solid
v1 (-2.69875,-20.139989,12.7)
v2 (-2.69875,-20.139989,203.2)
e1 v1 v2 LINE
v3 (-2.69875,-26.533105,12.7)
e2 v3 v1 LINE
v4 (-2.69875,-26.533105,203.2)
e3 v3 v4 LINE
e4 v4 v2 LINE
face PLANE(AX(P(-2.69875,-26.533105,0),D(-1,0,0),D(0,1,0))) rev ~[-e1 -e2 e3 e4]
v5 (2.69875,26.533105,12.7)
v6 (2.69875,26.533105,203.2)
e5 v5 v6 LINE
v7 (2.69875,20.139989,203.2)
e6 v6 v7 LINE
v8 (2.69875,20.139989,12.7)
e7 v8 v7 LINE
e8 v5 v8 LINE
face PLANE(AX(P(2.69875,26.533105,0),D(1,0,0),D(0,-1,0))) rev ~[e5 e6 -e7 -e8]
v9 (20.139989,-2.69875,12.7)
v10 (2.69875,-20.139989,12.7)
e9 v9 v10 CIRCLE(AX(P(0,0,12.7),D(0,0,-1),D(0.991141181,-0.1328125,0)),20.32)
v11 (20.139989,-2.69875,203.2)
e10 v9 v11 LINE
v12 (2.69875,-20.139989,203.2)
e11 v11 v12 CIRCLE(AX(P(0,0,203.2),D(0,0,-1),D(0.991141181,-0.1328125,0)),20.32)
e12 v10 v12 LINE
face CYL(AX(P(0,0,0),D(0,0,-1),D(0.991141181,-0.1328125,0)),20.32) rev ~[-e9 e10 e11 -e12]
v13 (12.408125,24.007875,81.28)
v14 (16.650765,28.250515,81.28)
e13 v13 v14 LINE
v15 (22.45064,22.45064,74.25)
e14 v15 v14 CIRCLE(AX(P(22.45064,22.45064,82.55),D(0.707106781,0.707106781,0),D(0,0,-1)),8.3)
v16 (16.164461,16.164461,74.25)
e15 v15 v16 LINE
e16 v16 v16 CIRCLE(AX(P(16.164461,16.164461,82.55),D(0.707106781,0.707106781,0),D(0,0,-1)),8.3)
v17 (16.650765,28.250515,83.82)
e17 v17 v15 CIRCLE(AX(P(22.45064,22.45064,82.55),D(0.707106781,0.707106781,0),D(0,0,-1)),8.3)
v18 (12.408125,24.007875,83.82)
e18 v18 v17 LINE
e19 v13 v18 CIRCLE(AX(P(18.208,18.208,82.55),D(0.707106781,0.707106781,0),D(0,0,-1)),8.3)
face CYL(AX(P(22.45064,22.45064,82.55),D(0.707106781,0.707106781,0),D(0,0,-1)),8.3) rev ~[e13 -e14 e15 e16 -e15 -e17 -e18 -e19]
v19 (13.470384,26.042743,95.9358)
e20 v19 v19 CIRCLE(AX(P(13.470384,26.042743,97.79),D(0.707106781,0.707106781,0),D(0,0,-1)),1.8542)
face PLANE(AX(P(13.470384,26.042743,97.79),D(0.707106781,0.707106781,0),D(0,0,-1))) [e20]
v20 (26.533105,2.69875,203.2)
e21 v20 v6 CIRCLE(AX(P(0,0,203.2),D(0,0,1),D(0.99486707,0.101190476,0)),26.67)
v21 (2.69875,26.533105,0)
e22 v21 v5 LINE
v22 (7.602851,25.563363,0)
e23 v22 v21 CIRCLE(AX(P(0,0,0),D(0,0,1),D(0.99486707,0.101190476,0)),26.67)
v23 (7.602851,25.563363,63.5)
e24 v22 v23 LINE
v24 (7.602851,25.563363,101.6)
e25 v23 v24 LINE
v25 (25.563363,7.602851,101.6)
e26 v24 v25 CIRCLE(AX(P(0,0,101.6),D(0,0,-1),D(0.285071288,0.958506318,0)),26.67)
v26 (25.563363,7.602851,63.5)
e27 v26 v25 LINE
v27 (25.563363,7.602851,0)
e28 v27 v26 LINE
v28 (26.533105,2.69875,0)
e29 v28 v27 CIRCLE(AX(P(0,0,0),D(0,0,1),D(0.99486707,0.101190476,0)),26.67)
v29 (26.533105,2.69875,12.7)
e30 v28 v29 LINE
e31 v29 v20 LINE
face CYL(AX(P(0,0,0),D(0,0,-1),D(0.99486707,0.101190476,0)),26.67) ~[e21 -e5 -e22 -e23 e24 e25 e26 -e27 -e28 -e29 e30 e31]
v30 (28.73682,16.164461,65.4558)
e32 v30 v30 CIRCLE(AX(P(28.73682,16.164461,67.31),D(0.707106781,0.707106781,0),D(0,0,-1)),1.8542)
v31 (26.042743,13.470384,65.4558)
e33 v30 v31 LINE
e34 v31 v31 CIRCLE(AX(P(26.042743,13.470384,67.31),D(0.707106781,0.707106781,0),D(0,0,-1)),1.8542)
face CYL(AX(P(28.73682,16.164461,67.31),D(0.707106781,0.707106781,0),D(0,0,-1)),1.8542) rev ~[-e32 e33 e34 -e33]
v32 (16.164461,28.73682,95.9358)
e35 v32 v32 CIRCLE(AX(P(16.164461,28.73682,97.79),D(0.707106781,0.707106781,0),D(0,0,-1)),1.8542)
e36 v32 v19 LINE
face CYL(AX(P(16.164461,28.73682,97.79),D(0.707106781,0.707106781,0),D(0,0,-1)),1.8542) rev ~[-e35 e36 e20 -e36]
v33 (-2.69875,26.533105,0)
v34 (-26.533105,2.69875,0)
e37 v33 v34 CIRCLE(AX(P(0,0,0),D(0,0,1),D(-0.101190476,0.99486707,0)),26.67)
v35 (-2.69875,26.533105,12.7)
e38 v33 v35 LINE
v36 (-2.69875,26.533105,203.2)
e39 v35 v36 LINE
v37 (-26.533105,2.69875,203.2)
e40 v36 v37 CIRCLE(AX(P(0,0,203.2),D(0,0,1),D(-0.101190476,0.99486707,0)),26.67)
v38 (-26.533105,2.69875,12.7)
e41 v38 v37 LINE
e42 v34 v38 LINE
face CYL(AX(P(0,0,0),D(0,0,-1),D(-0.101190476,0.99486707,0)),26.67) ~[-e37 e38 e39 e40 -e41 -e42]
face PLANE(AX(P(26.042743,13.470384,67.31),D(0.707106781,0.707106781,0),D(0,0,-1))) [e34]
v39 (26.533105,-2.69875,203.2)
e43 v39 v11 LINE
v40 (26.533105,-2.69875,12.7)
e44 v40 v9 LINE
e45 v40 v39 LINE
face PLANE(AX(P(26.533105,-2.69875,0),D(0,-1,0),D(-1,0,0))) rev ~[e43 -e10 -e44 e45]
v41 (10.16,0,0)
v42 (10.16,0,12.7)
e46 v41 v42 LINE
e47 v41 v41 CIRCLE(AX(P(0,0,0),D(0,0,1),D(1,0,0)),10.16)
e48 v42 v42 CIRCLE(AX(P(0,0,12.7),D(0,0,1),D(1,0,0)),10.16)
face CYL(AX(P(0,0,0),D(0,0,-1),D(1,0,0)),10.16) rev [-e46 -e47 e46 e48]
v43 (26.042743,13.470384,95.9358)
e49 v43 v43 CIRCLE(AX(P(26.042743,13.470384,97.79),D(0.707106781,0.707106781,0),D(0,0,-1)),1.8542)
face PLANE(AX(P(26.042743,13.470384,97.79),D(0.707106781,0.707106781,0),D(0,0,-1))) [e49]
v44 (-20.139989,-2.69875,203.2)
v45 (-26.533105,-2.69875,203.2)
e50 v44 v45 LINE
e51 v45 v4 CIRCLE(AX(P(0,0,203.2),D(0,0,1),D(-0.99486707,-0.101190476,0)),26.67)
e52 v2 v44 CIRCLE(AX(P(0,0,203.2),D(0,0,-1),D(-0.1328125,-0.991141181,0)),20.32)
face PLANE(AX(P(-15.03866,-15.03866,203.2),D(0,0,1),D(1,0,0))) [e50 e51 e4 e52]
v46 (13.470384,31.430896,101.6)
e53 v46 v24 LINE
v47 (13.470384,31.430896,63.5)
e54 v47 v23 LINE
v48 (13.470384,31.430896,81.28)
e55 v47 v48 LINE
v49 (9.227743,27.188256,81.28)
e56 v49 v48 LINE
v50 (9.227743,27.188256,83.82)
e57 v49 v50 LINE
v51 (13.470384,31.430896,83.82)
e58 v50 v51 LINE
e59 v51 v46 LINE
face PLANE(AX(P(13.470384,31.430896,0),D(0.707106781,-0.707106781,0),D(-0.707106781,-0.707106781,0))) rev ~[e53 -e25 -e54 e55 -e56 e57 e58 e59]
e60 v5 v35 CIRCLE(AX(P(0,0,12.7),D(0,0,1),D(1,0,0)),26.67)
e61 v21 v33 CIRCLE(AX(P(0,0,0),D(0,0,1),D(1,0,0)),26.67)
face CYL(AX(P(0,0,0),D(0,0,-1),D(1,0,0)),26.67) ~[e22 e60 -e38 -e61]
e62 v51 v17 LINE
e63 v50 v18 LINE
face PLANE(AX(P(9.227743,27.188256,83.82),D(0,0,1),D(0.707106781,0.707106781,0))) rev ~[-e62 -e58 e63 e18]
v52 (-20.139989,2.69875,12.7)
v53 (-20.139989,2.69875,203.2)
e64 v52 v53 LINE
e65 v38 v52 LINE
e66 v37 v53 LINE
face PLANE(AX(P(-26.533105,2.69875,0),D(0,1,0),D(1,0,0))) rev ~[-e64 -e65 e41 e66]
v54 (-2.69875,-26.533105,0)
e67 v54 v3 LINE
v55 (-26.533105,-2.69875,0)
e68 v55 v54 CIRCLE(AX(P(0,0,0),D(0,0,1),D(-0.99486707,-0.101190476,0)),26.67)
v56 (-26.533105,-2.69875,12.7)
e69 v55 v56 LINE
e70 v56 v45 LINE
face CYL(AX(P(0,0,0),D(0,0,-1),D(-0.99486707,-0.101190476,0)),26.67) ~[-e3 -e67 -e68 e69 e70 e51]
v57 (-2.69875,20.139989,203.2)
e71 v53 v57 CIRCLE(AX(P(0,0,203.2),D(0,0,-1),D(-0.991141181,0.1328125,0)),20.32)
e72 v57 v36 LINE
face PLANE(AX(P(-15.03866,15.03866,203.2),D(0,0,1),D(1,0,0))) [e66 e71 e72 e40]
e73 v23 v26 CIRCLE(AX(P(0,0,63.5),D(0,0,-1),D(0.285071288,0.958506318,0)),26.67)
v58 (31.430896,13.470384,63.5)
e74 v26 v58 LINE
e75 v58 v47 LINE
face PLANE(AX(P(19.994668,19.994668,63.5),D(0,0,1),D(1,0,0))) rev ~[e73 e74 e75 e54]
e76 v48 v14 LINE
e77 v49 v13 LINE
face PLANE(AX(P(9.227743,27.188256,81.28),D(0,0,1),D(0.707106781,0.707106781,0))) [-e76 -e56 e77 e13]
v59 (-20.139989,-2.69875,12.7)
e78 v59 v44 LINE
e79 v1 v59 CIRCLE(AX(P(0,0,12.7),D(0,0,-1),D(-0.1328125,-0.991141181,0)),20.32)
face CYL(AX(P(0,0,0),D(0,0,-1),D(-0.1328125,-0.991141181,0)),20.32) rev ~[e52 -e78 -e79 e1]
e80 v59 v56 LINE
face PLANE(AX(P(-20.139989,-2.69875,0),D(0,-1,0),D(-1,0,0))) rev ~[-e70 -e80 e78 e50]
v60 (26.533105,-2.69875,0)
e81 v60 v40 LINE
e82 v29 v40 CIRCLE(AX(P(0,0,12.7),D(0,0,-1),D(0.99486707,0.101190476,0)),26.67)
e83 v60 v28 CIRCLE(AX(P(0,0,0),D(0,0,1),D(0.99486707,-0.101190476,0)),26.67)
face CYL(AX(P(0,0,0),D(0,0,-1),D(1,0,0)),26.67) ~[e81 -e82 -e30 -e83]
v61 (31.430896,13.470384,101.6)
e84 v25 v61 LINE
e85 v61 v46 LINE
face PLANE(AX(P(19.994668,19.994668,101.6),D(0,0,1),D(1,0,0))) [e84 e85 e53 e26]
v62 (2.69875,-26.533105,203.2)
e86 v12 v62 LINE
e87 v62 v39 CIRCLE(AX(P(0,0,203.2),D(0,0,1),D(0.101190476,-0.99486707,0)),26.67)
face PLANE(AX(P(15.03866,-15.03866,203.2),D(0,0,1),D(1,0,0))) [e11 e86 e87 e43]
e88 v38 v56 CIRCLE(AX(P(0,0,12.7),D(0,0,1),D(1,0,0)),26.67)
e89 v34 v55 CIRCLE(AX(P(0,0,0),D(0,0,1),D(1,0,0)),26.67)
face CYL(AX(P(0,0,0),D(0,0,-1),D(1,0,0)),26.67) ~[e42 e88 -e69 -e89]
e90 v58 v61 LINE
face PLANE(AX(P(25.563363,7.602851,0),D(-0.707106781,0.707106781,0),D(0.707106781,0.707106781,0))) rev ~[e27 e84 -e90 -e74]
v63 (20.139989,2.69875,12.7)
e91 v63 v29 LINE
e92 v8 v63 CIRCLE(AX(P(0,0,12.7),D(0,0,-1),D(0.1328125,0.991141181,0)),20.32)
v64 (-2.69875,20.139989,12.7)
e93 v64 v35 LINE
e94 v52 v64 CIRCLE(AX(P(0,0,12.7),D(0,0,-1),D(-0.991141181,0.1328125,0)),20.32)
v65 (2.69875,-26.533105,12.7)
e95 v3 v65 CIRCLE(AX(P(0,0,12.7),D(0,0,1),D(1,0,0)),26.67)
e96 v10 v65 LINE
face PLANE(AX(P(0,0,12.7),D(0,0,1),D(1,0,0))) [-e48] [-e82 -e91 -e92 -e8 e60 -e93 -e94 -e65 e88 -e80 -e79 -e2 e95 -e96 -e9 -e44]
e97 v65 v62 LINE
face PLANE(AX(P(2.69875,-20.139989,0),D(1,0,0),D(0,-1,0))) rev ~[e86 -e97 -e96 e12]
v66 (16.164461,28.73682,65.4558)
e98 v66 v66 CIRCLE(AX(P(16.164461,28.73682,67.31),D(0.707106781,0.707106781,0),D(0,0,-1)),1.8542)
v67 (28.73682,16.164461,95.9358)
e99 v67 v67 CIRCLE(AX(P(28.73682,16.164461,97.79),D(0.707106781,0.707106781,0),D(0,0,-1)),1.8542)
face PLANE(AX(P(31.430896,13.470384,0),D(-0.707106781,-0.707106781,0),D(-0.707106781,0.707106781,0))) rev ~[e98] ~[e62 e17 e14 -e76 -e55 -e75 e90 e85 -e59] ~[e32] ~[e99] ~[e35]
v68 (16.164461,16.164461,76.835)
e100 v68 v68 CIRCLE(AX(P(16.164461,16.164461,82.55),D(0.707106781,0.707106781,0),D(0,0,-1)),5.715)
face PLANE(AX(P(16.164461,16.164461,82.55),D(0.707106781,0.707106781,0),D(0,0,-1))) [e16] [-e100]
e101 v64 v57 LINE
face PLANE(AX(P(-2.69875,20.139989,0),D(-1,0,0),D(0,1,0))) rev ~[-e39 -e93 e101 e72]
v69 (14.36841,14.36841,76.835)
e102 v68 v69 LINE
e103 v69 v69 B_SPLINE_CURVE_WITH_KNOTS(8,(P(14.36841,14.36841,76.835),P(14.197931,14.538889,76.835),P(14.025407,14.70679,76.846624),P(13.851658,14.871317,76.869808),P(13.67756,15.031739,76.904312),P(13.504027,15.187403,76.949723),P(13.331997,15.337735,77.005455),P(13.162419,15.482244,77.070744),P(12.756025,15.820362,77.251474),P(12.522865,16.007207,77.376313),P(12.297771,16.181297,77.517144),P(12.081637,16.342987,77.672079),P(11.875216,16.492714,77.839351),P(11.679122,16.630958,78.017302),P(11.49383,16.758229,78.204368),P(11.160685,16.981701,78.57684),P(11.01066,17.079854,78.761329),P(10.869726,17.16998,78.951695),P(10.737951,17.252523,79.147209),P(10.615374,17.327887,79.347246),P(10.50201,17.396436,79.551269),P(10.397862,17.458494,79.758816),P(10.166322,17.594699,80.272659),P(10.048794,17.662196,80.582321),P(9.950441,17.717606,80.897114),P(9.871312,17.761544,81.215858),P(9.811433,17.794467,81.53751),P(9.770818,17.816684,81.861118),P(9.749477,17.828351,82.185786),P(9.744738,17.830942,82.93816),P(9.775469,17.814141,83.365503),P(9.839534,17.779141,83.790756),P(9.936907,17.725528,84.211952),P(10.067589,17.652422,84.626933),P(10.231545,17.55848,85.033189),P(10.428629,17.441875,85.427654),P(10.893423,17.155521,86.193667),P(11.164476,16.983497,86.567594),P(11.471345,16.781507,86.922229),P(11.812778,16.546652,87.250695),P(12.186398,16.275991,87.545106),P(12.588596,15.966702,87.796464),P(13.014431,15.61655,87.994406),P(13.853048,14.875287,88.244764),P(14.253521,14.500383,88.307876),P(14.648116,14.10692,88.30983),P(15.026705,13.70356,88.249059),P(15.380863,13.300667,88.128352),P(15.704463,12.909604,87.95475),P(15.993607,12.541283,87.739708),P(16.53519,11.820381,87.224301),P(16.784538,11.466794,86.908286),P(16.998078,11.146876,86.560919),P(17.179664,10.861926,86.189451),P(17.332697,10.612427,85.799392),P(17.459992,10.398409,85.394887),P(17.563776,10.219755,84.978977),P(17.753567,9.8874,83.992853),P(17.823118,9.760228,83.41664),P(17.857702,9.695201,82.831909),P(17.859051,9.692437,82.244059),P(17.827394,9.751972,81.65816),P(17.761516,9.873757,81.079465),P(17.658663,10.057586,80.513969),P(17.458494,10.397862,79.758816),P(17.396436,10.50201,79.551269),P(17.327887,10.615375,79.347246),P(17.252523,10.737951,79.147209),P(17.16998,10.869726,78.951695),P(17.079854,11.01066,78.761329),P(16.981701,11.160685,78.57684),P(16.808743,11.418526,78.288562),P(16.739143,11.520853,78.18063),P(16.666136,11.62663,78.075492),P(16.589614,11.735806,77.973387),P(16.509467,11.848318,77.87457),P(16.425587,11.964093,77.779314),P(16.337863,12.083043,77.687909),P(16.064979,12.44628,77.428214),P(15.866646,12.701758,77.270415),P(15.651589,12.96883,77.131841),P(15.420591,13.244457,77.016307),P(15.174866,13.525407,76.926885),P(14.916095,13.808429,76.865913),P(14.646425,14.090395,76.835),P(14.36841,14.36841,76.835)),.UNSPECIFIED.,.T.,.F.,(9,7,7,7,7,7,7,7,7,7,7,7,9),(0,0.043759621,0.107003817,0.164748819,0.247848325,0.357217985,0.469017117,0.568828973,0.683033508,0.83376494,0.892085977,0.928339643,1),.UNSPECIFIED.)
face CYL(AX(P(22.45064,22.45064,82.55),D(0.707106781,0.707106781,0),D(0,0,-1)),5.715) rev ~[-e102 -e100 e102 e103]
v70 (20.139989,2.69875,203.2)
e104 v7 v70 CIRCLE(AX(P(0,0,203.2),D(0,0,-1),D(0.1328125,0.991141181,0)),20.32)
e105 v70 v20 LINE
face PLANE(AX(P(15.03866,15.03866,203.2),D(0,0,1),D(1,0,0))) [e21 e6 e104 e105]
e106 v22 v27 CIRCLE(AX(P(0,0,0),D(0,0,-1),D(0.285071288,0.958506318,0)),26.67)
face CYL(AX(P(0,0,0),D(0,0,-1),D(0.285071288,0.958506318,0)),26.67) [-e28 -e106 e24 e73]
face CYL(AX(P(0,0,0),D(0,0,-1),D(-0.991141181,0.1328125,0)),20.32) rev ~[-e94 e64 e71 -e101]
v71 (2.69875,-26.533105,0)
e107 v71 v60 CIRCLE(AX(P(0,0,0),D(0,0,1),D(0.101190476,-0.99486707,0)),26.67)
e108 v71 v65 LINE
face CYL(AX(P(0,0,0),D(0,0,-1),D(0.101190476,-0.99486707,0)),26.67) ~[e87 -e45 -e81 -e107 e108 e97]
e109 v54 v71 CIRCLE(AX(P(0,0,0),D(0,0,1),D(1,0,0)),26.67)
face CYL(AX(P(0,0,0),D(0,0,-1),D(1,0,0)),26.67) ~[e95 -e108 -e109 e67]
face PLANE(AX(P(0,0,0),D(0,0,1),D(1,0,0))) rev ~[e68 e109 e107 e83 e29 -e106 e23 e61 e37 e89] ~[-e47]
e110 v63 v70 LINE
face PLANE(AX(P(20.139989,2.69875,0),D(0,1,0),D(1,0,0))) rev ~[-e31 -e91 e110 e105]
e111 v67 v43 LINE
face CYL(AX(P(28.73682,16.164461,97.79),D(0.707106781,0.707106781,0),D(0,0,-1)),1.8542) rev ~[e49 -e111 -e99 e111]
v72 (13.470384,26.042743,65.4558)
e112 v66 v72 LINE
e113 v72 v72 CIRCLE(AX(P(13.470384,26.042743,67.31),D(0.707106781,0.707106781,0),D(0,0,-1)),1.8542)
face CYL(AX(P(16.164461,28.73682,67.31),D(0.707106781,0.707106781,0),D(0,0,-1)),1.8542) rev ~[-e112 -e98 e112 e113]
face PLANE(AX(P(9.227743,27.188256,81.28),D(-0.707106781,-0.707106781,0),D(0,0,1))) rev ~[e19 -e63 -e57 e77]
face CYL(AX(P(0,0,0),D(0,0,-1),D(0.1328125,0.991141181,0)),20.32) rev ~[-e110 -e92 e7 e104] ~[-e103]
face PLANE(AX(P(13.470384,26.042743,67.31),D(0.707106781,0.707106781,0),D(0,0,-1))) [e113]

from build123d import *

# Parameters (mm, degrees)
BOSS_EXTRUDE2_DEPTH   = 203.2
BOSS_EXTRUDE2_2_DEPTH = 203.2
BOSS_EXTRUDE2_3_DEPTH = 203.2
BOSS_EXTRUDE2_4_DEPTH = 203.2
SKETCH1_15_R          = 26.67
SKETCH1_15_R_2        = 10.16
BOSS_EXTRUDE3_DEPTH   = 12.7
BOSS_EXTRUDE4_DEPTH   = 101.6
CUT_EXTRUDE2_DEPTH    = 63.5
SKETCH4_R             = 8.300000037
CUT_EXTRUDE3_DEPTH    = 8.89
SKETCH5_R             = 5.715
CUT_EXTRUDE5_DEPTH    = 25.4
SKETCH7_W             = 2.54
SKETCH7_H             = 6
CUT_EXTRUDE6_DEPTH    = 8.89
SKETCH8_R             = 1.8542
CUT_EXTRUDE7_DEPTH    = 3.81


with BuildPart() as part:
    # Sketch1 → Boss-Extrude2 (new body)
    with BuildSketch(Plane.XY):
        with BuildLine():
            Line((-26.533104764, 2.69875), (-20.139988789, 2.69875))
            ThreePointArc((-20.139988789, 2.69875), (-14.368409794, 14.368409794), (-2.69875, 20.139988789))
            Line((-2.69875, 20.139988789), (-2.69875, 26.533104764))
            ThreePointArc((-2.69875, 26.533104764), (-18.858537854, 18.858537854), (-26.533104764, 2.69875))
        make_face()
    extrude(amount=BOSS_EXTRUDE2_DEPTH)



with BuildPart() as body_2:
    # Sketch1 → Boss-Extrude2 2 (new body)
    with BuildSketch(Plane.XY):
        with BuildLine():
            ThreePointArc((-2.69875, -20.139988789), (-14.368409794, -14.368409794), (-20.139988789, -2.69875))
            Line((-20.139988789, -2.69875), (-26.533104764, -2.69875))
            ThreePointArc((-26.533104764, -2.69875), (-18.858537854, -18.858537854), (-2.69875, -26.533104764))
            Line((-2.69875, -26.533104764), (-2.69875, -20.139988789))
        make_face()
    extrude(amount=BOSS_EXTRUDE2_2_DEPTH)


with BuildPart() as body_3:
    # Sketch1 → Boss-Extrude2 3 (new body)
    with BuildSketch(Plane.XY):
        with BuildLine():
            Line((2.69875, 26.533104764), (2.69875, 20.139988789))
            ThreePointArc((2.69875, 20.139988789), (14.368409794, 14.368409794), (20.139988789, 2.69875))
            Line((20.139988789, 2.69875), (26.533104764, 2.69875))
            ThreePointArc((26.533104764, 2.69875), (18.858537854, 18.858537854), (2.69875, 26.533104764))
        make_face()
    extrude(amount=BOSS_EXTRUDE2_3_DEPTH)


with BuildPart() as body_4:
    # Sketch1 → Boss-Extrude2 4 (new body)
    with BuildSketch(Plane.XY):
        with BuildLine():
            ThreePointArc((20.139988789, -2.69875), (14.368409794, -14.368409794), (2.69875, -20.139988789))
            Line((2.69875, -20.139988789), (2.69875, -26.533104764))
            ThreePointArc((2.69875, -26.533104764), (18.858537854, -18.858537854), (26.533104764, -2.69875))
            Line((26.533104764, -2.69875), (20.139988789, -2.69875))
        make_face()
    extrude(amount=BOSS_EXTRUDE2_4_DEPTH)


with BuildPart() as part_1:
    add(part.part)

    add(body_2.part)  # Boss-Extrude3 merges body 2

    add(body_3.part)  # Boss-Extrude3 merges body 3

    add(body_4.part)  # Boss-Extrude3 merges body 4
    # Sketch1<15> → Boss-Extrude3 (add)
    with BuildSketch(Plane.XY):
        Circle(SKETCH1_15_R)
        Circle(SKETCH1_15_R_2, mode=Mode.SUBTRACT)
    extrude(amount=BOSS_EXTRUDE3_DEPTH)

    # Sketch1<18> → Boss-Extrude4 (add)
    with BuildSketch(Plane.XY):
        with BuildLine():
            Line((13.470384182, 31.430896424), (7.602851248, 25.56336349))
            ThreePointArc((7.602851248, 25.56336349), (18.858537854, 18.858537854), (25.56336349, 7.602851248))
            Line((25.56336349, 7.602851248), (31.430896424, 13.470384182))
            Line((31.430896424, 13.470384182), (13.470384182, 31.430896424))
        make_face()
    extrude(amount=BOSS_EXTRUDE4_DEPTH)

    # Sketch1<19> → Cut-Extrude2 (cut)
    with BuildSketch(Plane.XY):
        with BuildLine():
            Line((13.470384182, 31.430896424), (7.602851248, 25.56336349))
            ThreePointArc((7.602851248, 25.56336349), (18.858537854, 18.858537854), (25.56336349, 7.602851248))
            Line((25.56336349, 7.602851248), (31.430896424, 13.470384182))
            Line((31.430896424, 13.470384182), (13.470384182, 31.430896424))
        make_face()
    extrude(amount=CUT_EXTRUDE2_DEPTH, mode=Mode.SUBTRACT)

    # Sketch4 → Cut-Extrude3 (cut)
    with BuildSketch(Plane(origin=(22.450640303, 22.450640303, 0), x_dir=(0, 0, -1), z_dir=(0.7071067811865466, 0.7071067811865485, 0))):
        with Locations((-82.55, 0)):
            Circle(SKETCH4_R)
    extrude(amount=-CUT_EXTRUDE3_DEPTH, mode=Mode.SUBTRACT)

    # Sketch5 → Cut-Extrude5 (cut)
    with BuildSketch(Plane(origin=(22.450640303, 22.450640303, 0), x_dir=(0, 0, -1), z_dir=(0.7071067811865466, 0.7071067811865485, 0))):
        with Locations((-82.55, 0)):
            Circle(SKETCH5_R)
    extrude(amount=-CUT_EXTRUDE5_DEPTH, mode=Mode.SUBTRACT)

    # Sketch7 → Cut-Extrude6 (cut)
    with BuildSketch(Plane(origin=(-8.980256121, 8.980256121, 0), x_dir=(0, 0, 1), z_dir=(-0.7071067811865488, 0.7071067811865462, 0))):
        with Locations((82.55, 28.75)):
            Rectangle(SKETCH7_W, SKETCH7_H)
    extrude(amount=-CUT_EXTRUDE6_DEPTH, mode=Mode.SUBTRACT)

    # Sketch8 → Cut-Extrude7 (cut)
    with BuildSketch(Plane(origin=(22.450640303, 22.450640303, 0), x_dir=(0, 0, -1), z_dir=(0.7071067811865466, 0.7071067811865485, 0))):
        with Locations((-97.79, 8.89)):
            Circle(SKETCH8_R)
        with Locations((-97.79, -8.89)):
            Circle(SKETCH8_R)
        with Locations((-67.31, -8.89)):
            Circle(SKETCH8_R)
        with Locations((-67.31, 8.89)):
            Circle(SKETCH8_R)
    extrude(amount=-CUT_EXTRUDE7_DEPTH, mode=Mode.SUBTRACT)


solid = part_1.part
